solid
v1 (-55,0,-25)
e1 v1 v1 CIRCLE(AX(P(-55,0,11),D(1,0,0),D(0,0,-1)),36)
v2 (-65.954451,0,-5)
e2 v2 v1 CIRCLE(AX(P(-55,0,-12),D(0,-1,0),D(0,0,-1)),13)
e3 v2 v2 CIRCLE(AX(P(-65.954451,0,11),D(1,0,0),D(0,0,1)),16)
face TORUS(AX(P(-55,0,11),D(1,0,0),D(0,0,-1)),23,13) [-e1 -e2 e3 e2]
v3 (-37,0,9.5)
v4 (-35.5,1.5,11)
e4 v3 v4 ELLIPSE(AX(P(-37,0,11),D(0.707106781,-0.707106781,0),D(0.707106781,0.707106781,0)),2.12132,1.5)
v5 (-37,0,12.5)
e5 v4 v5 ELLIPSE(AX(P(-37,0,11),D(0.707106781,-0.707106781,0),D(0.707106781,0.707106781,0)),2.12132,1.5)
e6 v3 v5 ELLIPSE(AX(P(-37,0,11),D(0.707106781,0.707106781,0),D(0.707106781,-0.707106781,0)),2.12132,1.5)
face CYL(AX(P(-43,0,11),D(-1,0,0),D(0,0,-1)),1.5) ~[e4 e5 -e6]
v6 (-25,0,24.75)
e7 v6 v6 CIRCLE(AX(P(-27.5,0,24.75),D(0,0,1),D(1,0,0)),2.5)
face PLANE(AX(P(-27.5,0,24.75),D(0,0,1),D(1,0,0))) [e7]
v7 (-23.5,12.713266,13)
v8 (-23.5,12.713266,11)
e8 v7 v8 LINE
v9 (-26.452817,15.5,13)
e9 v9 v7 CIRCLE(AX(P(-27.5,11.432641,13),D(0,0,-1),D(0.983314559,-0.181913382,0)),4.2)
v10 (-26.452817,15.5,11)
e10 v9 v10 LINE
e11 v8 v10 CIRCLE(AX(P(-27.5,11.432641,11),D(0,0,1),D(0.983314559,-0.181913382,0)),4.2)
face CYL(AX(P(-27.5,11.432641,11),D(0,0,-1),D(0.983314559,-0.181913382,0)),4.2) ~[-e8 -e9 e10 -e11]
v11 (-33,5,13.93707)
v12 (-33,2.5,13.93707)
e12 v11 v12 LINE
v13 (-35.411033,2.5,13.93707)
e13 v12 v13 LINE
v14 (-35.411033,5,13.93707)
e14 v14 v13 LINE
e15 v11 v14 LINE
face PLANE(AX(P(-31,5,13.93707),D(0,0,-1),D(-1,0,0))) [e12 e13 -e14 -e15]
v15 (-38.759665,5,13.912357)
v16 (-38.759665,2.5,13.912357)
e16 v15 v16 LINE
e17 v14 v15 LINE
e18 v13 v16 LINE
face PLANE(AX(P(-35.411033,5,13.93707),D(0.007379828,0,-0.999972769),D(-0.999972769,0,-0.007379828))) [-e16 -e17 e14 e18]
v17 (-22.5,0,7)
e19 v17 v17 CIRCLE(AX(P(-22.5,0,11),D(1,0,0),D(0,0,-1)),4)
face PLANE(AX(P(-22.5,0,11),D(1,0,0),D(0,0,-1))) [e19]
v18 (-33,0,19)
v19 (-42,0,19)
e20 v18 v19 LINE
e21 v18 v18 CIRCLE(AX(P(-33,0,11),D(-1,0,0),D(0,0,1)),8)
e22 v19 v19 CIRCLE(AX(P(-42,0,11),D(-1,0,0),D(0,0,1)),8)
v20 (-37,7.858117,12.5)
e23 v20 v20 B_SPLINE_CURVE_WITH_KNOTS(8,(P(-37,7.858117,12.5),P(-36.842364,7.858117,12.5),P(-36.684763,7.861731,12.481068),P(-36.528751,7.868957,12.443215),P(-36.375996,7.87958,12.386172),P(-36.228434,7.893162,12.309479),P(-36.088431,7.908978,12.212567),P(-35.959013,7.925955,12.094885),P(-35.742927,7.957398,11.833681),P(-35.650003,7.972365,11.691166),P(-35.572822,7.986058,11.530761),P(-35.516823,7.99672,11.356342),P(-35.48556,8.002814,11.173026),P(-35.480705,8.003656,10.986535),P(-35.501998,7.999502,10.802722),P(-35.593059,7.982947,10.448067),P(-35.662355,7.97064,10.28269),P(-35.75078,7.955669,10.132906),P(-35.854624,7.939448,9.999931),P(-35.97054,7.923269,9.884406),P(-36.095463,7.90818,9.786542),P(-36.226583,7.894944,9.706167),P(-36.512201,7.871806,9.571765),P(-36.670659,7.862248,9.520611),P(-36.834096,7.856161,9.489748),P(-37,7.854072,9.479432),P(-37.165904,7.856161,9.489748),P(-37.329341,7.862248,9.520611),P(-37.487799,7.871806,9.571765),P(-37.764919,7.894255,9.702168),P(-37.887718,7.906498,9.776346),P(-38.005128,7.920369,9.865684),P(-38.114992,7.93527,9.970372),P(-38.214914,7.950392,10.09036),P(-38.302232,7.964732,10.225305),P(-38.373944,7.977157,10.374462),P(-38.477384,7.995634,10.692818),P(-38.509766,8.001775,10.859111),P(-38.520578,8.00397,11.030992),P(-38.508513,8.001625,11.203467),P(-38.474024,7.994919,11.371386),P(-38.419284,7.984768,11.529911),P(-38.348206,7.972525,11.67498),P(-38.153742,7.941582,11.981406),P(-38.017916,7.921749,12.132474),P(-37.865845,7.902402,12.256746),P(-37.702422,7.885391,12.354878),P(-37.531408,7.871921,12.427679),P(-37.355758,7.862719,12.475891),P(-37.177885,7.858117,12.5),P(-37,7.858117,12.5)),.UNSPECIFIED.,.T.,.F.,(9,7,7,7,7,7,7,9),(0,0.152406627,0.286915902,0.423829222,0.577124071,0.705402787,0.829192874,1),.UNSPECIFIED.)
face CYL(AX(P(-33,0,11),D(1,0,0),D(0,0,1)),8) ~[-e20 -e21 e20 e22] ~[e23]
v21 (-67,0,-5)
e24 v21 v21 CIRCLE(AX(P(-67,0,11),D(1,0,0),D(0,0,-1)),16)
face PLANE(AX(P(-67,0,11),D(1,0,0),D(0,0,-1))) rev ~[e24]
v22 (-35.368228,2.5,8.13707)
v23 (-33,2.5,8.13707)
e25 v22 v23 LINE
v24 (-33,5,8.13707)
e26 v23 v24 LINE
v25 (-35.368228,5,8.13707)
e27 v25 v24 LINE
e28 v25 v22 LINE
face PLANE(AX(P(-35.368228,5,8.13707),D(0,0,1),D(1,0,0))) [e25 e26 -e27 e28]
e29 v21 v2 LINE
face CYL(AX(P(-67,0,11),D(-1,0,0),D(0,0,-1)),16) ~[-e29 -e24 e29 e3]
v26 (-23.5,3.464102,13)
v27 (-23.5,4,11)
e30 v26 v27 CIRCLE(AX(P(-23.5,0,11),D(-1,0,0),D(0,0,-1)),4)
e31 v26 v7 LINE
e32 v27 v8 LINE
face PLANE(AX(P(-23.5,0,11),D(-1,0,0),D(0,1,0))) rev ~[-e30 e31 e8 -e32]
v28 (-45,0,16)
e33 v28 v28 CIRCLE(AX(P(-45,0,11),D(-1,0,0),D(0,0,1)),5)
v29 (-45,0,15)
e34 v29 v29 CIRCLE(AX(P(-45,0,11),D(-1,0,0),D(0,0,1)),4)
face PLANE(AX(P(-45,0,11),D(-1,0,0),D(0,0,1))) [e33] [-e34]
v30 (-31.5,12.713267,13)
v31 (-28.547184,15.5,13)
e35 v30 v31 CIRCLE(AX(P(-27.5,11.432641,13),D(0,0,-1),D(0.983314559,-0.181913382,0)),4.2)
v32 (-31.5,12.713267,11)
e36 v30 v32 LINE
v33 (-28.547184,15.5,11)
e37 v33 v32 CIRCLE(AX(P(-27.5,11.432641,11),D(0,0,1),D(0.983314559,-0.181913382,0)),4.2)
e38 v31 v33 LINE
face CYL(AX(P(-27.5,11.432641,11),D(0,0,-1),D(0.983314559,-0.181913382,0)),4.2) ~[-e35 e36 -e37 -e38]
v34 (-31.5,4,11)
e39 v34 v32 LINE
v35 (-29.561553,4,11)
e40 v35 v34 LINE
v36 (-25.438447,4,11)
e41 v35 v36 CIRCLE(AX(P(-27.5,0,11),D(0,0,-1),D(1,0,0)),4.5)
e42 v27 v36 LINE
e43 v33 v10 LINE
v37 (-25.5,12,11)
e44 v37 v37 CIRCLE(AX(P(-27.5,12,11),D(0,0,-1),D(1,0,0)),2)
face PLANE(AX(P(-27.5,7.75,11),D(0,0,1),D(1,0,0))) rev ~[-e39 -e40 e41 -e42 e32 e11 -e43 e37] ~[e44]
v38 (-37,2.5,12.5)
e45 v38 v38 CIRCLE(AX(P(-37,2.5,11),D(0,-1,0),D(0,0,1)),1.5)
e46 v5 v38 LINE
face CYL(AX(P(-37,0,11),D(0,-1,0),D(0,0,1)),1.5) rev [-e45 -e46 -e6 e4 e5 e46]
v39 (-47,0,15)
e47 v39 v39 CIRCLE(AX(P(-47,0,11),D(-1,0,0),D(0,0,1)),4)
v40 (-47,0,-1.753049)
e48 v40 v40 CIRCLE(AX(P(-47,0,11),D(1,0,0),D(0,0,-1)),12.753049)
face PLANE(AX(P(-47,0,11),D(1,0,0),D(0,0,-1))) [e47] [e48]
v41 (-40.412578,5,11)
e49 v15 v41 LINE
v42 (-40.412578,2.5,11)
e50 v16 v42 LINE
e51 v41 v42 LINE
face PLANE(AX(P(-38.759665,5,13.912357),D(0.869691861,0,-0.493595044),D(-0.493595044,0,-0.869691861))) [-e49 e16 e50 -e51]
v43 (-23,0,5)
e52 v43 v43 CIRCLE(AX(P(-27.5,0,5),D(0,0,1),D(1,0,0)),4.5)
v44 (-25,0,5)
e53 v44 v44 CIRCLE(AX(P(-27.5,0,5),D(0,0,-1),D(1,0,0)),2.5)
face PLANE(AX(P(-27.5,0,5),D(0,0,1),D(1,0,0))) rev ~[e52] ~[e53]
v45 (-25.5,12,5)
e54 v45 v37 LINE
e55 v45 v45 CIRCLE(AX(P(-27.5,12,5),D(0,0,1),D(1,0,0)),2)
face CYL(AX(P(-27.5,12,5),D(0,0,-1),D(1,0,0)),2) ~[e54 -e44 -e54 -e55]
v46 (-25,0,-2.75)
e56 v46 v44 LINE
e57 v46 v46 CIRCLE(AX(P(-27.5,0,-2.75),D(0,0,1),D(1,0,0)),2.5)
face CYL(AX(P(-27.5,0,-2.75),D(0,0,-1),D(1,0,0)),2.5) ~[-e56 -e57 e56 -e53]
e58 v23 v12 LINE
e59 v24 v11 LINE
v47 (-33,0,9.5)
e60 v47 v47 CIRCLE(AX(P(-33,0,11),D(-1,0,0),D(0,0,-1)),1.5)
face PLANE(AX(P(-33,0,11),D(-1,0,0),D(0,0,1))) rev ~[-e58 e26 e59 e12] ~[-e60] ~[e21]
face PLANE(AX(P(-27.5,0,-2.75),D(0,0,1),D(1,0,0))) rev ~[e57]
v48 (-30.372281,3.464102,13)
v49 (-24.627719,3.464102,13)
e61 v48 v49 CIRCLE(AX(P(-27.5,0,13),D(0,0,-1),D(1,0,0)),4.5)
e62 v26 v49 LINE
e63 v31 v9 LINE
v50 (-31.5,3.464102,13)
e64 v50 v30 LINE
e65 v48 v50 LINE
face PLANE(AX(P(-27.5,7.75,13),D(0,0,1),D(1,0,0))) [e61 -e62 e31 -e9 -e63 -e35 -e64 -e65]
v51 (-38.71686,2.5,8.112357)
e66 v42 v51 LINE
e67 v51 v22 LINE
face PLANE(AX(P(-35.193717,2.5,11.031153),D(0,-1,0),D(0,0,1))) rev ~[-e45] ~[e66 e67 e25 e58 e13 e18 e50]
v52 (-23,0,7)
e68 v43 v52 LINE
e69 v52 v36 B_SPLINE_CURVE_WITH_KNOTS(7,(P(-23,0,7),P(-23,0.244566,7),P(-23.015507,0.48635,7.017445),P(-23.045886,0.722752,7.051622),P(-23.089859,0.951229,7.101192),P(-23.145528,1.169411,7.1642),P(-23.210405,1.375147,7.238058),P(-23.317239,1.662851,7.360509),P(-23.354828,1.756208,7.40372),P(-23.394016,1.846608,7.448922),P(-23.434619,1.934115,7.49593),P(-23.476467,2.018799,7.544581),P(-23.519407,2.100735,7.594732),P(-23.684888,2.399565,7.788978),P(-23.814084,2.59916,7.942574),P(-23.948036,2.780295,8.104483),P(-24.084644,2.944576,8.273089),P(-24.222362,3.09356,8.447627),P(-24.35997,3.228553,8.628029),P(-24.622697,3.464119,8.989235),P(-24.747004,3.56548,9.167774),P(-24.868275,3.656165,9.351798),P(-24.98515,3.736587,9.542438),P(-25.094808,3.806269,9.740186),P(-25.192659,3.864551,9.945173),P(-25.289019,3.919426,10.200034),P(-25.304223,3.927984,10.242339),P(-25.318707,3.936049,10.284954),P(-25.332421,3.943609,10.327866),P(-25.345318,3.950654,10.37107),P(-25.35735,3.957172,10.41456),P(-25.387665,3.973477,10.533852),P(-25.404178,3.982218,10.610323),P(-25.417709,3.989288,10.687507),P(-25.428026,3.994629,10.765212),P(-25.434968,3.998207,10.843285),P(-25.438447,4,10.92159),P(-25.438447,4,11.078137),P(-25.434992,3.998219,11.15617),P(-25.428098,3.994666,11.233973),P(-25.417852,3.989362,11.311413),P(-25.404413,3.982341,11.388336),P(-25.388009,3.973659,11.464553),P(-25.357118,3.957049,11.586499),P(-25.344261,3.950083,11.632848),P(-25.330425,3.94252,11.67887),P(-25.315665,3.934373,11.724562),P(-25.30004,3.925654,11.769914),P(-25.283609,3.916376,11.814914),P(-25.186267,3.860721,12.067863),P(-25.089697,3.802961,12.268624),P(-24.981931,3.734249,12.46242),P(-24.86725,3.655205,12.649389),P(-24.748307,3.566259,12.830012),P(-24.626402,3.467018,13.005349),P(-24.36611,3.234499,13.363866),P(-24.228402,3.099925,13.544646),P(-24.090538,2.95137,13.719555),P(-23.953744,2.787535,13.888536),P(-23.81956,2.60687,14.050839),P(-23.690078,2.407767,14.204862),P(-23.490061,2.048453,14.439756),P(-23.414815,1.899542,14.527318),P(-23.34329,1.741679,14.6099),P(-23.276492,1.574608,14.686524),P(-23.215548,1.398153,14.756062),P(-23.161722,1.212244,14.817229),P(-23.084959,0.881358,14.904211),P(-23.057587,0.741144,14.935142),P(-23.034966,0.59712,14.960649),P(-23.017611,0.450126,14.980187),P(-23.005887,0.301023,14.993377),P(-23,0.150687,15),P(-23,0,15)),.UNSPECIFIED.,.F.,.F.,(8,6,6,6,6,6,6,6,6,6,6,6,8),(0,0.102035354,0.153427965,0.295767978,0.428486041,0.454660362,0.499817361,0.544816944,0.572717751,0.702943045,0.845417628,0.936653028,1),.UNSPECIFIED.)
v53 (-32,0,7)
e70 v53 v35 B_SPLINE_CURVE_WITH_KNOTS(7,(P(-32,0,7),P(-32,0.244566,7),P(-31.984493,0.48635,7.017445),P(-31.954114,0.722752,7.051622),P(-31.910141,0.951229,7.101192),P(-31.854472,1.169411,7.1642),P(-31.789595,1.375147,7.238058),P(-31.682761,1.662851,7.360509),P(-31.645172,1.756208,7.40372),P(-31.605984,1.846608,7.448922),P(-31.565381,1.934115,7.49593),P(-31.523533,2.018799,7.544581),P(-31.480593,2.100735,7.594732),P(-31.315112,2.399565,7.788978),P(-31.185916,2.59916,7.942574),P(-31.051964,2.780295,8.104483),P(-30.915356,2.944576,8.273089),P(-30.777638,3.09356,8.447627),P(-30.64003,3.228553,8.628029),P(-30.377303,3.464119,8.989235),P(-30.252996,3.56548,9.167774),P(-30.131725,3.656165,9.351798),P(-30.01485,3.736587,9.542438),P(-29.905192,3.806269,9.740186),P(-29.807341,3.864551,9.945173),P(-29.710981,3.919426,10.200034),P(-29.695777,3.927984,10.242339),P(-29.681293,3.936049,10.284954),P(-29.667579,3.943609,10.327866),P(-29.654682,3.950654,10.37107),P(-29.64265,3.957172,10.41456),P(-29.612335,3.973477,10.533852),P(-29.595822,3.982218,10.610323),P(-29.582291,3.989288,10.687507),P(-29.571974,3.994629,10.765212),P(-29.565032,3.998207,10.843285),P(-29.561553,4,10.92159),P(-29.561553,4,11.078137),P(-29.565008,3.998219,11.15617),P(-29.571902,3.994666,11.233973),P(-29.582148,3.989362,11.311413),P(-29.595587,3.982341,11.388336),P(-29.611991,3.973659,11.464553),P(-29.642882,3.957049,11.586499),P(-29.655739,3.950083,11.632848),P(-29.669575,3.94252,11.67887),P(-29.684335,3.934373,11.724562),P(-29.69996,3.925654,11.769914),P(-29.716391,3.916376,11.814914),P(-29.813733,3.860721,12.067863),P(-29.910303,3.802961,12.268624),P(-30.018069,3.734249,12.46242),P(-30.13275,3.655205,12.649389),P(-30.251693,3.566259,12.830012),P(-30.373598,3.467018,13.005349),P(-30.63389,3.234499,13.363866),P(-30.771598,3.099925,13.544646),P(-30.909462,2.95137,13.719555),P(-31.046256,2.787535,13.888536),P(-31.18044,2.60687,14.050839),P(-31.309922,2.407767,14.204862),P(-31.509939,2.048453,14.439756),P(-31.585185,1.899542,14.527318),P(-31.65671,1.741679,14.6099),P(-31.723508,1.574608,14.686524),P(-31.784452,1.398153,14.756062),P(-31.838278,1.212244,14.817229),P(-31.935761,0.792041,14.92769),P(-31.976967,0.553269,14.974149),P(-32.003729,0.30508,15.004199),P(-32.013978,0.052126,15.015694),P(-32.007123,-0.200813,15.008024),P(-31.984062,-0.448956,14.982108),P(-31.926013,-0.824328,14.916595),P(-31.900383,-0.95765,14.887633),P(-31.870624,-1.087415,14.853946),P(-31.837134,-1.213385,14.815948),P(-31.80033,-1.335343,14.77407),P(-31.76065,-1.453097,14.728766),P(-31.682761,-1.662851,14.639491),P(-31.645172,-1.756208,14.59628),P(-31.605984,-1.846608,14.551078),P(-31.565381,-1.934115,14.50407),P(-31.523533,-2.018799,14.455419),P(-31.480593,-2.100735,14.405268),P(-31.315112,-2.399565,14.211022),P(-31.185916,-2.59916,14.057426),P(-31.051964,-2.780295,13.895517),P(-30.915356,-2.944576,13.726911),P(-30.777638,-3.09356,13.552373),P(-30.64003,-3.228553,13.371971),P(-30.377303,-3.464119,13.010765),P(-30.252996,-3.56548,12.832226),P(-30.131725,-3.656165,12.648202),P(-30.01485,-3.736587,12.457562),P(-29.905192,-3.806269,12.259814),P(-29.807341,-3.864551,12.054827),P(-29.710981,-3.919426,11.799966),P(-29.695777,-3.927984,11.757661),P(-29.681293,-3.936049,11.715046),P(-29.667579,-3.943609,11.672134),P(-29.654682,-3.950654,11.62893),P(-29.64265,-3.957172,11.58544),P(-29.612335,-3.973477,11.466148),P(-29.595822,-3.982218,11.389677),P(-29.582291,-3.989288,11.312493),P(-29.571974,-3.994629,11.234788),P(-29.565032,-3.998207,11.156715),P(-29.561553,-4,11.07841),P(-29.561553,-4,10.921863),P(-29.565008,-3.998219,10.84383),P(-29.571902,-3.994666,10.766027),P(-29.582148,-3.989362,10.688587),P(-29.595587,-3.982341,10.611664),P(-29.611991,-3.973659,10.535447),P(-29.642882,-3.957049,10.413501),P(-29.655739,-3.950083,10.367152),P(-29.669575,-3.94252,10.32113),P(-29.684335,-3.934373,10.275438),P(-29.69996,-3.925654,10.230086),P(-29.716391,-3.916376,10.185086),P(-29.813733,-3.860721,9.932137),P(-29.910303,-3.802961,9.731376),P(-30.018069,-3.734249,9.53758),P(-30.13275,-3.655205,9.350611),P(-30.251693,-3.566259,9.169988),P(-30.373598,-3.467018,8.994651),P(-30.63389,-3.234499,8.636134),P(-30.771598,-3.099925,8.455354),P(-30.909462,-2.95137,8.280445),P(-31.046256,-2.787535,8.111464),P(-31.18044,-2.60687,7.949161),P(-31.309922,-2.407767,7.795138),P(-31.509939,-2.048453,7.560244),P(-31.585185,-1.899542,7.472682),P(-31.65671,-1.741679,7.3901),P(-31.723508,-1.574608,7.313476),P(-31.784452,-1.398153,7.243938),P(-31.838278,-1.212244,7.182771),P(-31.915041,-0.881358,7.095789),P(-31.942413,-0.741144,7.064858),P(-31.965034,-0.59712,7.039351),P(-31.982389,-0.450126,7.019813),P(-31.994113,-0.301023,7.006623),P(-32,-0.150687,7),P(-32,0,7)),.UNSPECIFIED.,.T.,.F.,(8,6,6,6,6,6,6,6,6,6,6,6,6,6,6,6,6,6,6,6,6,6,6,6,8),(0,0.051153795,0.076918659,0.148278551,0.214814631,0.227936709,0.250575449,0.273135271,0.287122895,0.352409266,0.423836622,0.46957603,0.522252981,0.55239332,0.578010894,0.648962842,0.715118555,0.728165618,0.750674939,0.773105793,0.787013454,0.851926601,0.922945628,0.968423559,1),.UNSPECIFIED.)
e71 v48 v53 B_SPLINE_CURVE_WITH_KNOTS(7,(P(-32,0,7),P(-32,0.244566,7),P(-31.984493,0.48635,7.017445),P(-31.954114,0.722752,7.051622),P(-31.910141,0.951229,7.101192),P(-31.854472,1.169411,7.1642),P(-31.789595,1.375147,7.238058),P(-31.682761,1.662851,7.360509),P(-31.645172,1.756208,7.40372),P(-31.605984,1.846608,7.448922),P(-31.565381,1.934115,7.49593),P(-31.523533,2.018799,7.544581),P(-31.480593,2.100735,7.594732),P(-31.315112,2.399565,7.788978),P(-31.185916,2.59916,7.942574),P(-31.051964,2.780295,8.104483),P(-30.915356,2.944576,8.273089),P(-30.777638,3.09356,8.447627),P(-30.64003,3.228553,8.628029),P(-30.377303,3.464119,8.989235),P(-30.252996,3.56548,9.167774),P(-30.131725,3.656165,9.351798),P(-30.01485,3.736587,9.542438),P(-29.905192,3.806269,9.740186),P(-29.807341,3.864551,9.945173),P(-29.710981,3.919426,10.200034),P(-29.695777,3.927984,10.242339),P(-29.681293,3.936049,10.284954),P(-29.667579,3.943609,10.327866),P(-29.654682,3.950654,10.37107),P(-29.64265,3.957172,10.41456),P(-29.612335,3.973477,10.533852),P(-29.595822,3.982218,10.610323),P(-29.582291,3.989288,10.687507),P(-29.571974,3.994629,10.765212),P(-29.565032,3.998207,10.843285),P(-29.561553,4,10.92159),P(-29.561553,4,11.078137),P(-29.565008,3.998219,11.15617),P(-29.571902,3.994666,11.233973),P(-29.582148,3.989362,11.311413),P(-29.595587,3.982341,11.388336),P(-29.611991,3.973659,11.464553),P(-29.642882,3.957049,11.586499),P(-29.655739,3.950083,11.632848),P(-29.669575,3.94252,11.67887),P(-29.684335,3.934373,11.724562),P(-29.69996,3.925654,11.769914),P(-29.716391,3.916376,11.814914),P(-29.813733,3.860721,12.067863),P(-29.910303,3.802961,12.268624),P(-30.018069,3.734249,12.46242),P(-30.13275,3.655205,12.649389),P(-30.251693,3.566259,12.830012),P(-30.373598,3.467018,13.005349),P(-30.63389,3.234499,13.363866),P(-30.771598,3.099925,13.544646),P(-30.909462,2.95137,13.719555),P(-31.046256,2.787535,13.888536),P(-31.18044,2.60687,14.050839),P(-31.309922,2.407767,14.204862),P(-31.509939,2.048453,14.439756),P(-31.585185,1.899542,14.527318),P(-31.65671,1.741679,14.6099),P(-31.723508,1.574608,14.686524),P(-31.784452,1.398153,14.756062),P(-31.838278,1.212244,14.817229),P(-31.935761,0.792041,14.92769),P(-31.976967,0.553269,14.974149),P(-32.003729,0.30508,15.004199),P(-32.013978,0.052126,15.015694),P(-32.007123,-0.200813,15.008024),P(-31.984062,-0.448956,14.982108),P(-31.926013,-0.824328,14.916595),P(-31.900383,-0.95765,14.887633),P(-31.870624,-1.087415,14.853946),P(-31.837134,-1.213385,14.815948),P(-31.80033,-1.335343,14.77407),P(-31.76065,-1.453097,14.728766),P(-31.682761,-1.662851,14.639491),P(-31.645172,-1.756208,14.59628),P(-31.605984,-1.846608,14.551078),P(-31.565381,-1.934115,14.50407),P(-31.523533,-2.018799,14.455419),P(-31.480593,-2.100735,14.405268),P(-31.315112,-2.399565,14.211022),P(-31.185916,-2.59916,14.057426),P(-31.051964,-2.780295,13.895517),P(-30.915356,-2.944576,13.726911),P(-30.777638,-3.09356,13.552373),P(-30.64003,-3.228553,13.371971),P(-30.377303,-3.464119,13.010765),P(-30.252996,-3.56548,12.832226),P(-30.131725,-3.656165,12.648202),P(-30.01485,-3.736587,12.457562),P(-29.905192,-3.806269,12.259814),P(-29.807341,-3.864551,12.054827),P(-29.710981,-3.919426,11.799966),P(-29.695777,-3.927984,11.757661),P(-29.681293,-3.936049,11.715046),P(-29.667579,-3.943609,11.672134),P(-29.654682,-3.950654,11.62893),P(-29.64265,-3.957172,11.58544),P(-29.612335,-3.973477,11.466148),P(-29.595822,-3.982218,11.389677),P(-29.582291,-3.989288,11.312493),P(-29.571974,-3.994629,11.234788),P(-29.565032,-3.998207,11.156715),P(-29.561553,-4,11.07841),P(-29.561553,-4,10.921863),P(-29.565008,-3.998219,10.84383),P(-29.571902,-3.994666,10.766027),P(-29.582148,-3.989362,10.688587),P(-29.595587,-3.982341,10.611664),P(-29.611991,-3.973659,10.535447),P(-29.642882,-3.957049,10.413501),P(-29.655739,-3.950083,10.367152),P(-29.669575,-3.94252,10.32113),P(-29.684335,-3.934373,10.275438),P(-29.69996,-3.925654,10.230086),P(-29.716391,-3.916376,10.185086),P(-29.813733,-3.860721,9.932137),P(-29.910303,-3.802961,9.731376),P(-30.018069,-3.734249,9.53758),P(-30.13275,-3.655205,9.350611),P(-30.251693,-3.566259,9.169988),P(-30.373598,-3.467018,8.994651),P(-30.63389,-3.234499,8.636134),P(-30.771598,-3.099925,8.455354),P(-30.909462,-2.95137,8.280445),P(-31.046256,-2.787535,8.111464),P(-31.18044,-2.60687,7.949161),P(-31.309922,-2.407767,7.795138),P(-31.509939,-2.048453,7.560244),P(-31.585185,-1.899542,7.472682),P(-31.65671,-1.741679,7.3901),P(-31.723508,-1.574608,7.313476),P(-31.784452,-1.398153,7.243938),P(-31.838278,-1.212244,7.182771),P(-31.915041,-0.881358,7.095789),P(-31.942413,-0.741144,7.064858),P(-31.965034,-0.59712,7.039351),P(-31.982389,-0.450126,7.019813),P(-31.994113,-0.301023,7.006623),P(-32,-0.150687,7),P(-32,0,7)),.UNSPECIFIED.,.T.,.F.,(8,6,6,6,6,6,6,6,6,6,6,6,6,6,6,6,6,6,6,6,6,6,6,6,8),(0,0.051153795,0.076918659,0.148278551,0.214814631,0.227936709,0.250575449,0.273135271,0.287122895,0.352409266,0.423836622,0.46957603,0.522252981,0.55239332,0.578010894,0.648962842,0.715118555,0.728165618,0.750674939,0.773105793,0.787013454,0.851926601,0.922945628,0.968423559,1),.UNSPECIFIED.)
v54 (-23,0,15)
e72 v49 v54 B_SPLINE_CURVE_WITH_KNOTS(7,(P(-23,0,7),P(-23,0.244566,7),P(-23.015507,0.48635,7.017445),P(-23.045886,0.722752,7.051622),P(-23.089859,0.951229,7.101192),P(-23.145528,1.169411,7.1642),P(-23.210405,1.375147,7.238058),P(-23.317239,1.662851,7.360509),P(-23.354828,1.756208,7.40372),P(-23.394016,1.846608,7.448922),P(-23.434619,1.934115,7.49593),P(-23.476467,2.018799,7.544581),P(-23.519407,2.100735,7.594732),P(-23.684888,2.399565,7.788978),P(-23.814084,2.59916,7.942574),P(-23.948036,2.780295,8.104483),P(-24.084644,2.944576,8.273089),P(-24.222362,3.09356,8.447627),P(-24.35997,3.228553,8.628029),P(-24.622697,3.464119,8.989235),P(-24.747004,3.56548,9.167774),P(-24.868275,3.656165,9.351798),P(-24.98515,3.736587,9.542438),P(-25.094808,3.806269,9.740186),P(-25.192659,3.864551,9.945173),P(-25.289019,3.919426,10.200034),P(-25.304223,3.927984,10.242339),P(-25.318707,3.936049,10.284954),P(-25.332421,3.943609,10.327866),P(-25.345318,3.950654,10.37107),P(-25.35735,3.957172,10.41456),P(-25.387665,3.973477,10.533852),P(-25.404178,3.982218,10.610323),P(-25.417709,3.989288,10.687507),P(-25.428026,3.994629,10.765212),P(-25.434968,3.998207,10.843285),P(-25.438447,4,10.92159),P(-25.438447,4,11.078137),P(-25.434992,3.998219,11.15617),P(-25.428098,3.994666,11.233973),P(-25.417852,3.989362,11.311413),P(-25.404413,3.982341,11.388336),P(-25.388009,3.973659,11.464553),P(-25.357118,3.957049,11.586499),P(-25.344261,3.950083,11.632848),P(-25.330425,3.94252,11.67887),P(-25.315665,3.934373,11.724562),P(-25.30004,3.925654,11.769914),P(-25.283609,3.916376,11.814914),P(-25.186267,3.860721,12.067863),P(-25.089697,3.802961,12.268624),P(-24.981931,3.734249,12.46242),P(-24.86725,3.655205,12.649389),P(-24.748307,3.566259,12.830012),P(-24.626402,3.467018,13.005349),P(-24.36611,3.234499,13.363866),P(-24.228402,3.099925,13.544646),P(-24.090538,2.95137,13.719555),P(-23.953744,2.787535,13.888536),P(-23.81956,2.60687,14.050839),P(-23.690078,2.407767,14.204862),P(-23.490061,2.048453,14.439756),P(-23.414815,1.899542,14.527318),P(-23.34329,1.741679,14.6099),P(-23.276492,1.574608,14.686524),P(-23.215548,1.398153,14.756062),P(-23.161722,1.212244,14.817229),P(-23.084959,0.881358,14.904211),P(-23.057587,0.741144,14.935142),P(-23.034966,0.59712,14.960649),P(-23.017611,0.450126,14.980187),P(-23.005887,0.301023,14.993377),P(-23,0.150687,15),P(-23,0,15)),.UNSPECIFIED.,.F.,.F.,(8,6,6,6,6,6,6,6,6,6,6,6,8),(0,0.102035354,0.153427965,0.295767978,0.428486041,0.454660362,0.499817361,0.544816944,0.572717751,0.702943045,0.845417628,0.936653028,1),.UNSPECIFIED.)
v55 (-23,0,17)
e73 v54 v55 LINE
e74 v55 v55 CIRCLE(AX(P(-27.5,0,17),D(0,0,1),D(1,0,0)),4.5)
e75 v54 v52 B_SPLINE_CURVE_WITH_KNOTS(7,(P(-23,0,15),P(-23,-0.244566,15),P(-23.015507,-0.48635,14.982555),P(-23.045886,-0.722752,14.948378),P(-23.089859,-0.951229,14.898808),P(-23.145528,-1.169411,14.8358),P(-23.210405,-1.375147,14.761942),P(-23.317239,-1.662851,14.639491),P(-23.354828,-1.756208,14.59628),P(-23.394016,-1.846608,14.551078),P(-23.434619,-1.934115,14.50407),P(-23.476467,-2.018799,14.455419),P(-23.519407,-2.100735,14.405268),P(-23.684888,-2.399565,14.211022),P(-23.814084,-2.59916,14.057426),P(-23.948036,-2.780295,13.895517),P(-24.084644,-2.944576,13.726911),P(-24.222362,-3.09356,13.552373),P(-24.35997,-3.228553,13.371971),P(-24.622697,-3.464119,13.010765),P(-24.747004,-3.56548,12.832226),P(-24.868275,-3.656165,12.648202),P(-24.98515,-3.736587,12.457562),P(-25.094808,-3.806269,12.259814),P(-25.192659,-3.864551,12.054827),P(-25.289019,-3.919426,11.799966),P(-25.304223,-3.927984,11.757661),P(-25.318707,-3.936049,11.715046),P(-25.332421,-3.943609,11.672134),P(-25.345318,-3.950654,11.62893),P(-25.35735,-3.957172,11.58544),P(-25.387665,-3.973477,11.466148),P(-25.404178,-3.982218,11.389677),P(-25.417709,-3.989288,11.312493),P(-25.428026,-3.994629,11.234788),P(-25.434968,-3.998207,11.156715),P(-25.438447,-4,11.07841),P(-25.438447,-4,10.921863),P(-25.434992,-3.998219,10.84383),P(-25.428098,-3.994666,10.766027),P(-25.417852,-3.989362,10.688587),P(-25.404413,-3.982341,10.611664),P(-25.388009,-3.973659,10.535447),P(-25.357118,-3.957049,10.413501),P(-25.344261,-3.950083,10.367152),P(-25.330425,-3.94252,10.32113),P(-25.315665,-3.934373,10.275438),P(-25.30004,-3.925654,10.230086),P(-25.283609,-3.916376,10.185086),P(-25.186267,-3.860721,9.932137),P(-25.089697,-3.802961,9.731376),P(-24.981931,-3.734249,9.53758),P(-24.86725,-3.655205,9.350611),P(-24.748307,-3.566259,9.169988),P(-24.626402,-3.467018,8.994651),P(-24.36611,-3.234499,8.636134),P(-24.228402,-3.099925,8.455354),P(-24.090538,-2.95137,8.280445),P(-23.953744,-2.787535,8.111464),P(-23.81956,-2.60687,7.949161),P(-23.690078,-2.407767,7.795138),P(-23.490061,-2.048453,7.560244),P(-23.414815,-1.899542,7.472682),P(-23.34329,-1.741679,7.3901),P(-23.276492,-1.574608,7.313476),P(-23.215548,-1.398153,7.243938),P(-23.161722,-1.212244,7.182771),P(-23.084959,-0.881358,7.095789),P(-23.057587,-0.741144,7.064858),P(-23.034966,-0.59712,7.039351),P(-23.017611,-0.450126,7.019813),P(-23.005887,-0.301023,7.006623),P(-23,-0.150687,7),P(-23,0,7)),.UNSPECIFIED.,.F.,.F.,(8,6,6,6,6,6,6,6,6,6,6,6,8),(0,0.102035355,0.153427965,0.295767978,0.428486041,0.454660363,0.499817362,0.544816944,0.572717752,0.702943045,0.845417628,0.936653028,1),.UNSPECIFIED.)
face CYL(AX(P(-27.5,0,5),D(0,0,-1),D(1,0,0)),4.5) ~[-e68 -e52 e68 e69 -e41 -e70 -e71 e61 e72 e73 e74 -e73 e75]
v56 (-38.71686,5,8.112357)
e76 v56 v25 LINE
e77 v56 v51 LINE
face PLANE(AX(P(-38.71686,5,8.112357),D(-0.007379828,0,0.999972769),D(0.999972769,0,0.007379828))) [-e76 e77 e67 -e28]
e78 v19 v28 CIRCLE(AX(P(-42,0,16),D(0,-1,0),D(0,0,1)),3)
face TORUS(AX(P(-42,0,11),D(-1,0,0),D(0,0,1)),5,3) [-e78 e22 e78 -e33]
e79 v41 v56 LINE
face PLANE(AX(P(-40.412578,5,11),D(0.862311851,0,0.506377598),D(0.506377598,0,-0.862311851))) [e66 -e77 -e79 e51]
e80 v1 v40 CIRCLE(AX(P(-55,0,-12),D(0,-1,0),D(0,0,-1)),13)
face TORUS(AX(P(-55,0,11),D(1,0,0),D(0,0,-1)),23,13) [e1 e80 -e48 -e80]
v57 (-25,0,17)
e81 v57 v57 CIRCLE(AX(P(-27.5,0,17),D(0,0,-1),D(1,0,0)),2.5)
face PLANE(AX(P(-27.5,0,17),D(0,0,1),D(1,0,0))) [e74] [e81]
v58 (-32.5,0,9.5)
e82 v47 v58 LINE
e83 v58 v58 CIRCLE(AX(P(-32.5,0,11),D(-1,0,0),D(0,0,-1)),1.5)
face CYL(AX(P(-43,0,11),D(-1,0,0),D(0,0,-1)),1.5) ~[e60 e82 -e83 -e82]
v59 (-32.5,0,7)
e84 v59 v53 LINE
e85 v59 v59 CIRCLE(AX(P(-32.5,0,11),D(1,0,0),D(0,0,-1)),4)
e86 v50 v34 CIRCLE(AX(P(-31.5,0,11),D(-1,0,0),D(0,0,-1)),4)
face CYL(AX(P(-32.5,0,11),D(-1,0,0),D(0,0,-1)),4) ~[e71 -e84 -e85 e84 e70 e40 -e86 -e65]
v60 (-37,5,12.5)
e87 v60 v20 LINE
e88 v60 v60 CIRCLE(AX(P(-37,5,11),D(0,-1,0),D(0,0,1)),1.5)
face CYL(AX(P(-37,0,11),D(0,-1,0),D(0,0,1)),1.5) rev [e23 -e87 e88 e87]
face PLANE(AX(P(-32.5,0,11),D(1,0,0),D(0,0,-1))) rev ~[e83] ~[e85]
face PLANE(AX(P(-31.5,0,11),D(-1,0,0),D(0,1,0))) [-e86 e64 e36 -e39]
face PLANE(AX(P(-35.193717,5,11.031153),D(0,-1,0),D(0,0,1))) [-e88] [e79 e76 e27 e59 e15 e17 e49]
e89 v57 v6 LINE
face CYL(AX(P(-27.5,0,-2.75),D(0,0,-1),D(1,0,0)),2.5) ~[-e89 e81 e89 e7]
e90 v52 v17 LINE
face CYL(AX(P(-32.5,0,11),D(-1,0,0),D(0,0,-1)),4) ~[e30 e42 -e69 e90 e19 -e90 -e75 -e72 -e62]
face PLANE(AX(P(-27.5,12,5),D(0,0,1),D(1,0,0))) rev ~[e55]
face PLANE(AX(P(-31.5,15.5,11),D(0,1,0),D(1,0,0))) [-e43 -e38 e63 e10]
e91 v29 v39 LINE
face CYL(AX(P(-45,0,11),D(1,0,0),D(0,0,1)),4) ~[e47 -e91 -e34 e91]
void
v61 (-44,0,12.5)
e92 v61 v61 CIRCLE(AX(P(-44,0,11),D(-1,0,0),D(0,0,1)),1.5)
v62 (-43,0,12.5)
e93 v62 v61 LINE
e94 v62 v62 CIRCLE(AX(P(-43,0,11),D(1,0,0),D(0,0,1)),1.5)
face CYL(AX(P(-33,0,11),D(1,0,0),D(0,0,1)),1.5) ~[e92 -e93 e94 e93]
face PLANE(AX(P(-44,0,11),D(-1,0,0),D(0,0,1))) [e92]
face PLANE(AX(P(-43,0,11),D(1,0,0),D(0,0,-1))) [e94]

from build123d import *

# Parameters (mm, degrees)
TORUS_R                   = 13
CYLINDER006_R             = 4.5
CYLINDER006_DEPTH         = 12
CYLINDER007_R             = 4
CYLINDER007_DEPTH         = 10
PAD002_DEPTH              = 10
BOX001_W                  = 8
BOX001_H                  = 15.5
BOX001_DEPTH              = 2
CYLINDER008_R             = 2
CYLINDER008_DEPTH         = 7.5
CYLINDER005_R             = 2.5
CYLINDER005_DEPTH         = 27.5
CYLINDER009_R             = 1.5
CYLINDER009_DEPTH         = 20
CYLINDER020_R             = 4
CYLINDER020_DEPTH         = 2
BOX005_W                  = 4.6
BOX005_H                  = 1.7
BOX005_DEPTH              = 15
FILLET004_R               = 1
BOX004_W                  = 1.7
BOX004_H                  = 4.6
BOX004_DEPTH              = 15
FILLET003_R               = 1
CYLINDER021_R             = 1.5
CYLINDER021_DEPTH         = 10
PAD004_DEPTH              = 2.5
CYLINDER019_R             = 1.5
CYLINDER019_DEPTH         = 11
CYLINDER018_R             = 8
CYLINDER018_DEPTH         = 12
FILLET005_R               = 3
FUSION008_PLACEMENT_ANGLE = 90
CYLINDER013_R             = 16
CYLINDER013_DEPTH         = 20


with BuildPart() as toro:
    # Torus → Torus (revolve)
    with BuildSketch(Plane(origin=(-55, 0, 11), x_dir=(0, 0, -1), z_dir=(0, -1, 0))):
        with Locations((23, 0)):
            Circle(TORUS_R)
    revolve(axis=Axis((-55, 0, 11), (1, 0, 0)))


with BuildPart() as cilindro006:
    # Cylinder006 → Cylinder006 (new body)
    with BuildSketch(Plane.XY.offset(-6)):
        Circle(CYLINDER006_R)
    extrude(amount=CYLINDER006_DEPTH)


with BuildPart() as cilindro007:
    # Cylinder007 → Cylinder007 (new body)
    with BuildSketch(Plane(origin=(-5, 0, 0), x_dir=(0, 0, -1), z_dir=(1, 0, 0))):
        Circle(CYLINDER007_R)
    extrude(amount=CYLINDER007_DEPTH)


with BuildPart() as pad002:
    # Sketch002 → Pad002 (new body)
    with BuildSketch(Plane.XY):
        with BuildLine():
            ThreePointArc((4.129921, 10.668605), (-0.003253, 15.63264), (-4.128733, 10.662209))
            Line((-5.229172, 10.780737), (-4.128733, 10.662209))
            Line((-5.229172, 16.944185), (-5.229172, 10.780737))
            Line((5.596368, 16.944185), (-5.229172, 16.944185))
            Line((5.596368, 10.638987), (5.596368, 16.944185))
            Line((4.124442, 10.638987), (5.596368, 10.638987))
            Line((4.129921, 10.668605), (4.124442, 10.638987))
        make_face()
    extrude(amount=PAD002_DEPTH)


with BuildPart() as cut001:
    # Box001 → Box001 (new body)
    with BuildSketch(Plane(origin=(-4, 0, 0), x_dir=(1, 0, 0), z_dir=(0, 0, 1))):
        with Locations((4, 7.75)):
            Rectangle(BOX001_W, BOX001_H)
    extrude(amount=BOX001_DEPTH)

    # Cut001: cut Pad002
    add(pad002.part, mode=Mode.SUBTRACT)


with BuildPart() as cilindro008:
    # Cylinder008 → Cylinder008 (new body)
    with BuildSketch(Plane(origin=(0, 12, -6), x_dir=(1, 0, 0), z_dir=(0, 0, 1))):
        Circle(CYLINDER008_R)
    extrude(amount=CYLINDER008_DEPTH)


with BuildPart() as fusion001:
    # Cylinder005 → Cylinder005 (new body)
    with BuildSketch(Plane.XY.offset(-13.75)):
        Circle(CYLINDER005_R)
    extrude(amount=CYLINDER005_DEPTH)

    # Fusion001: union Cilindro006, Cilindro007, Cut001, Cilindro008
    add(cilindro006.part)
    add(cilindro007.part)
    add(cut001.part)
    add(cilindro008.part)


with BuildPart() as fusion001_1:
    # Fusion001 placement: moved
    add(fusion001.part.moved(Location((-27.5, 0, 11))))


with BuildPart() as cylinder009:
    # Cylinder009 → Cylinder009 (new body)
    with BuildSketch(Plane(origin=(-43, 0, 11), x_dir=(0, 0, -1), z_dir=(1, 0, 0))):
        Circle(CYLINDER009_R)
    extrude(amount=CYLINDER009_DEPTH)


with BuildPart() as cilindro016:
    # Cylinder020 → Cylinder020 (new body)
    with BuildSketch(Plane.XY.offset(12)):
        Circle(CYLINDER020_R)
    extrude(amount=CYLINDER020_DEPTH)


with BuildPart() as fillet004:
    # Box005 → Box005 (new body)
    with BuildSketch(Plane(origin=(-2.3, -0.85, 22), x_dir=(1, 0, 0), z_dir=(0, 0, 1))):
        with Locations((2.3, 0.85)):
            Rectangle(BOX005_W, BOX005_H)
    extrude(amount=BOX005_DEPTH)

    # Fillet004
    fillet004_edges = [fillet004.edges().sort_by_distance(p)[0] for p in [
        (-2.3, 0, 37),
        (2.3, 0, 37),
    ]]
    fillet(fillet004_edges, radius=FILLET004_R)


with BuildPart() as fusion006:
    # Box004 → Box004 (new body)
    with BuildSketch(Plane(origin=(-0.85, -2.3, 22), x_dir=(1, 0, 0), z_dir=(0, 0, 1))):
        with Locations((0.85, 2.3)):
            Rectangle(BOX004_W, BOX004_H)
    extrude(amount=BOX004_DEPTH)

    # Fillet003
    fillet003_edges = [fusion006.edges().sort_by_distance(p)[0] for p in [
        (0, -2.3, 37),
        (0, 2.3, 37),
    ]]
    fillet(fillet003_edges, radius=FILLET003_R)

    # Fusion006: union Fillet004
    add(fillet004.part)


with BuildPart() as fusion006_1:
    # Fusion006 placement: moved
    add(fusion006.part.moved(Location((0, 0, -8))))


with BuildPart() as taladro_tornillo001:
    # Cylinder021 → Cylinder021 (new body)
    with BuildSketch(Plane(origin=(0, 0, 4), x_dir=(1, 0, 0), z_dir=(0, 1, 0))):
        Circle(CYLINDER021_R)
    extrude(amount=CYLINDER021_DEPTH)


with BuildPart() as tuerca001:
    # Sketch005 → Pad004 (new body)
    with BuildSketch(Plane(origin=(0, 5, -2), x_dir=(1, 0, 0), z_dir=(0, -1, 0))):
        Polygon((0, 9.412578), (-2.887643, 7.71686), (-2.86293, 4.368228), (-2.86293, 0), (2.93707, 0), (2.93707, 4.411033), (2.912357, 7.759665), align=None)
    extrude(amount=PAD004_DEPTH)


with BuildPart() as hueco001:
    # Cylinder019 → Cylinder019 (new body)
    with BuildSketch(Plane.XY):
        Circle(CYLINDER019_R)
    extrude(amount=CYLINDER019_DEPTH)

    # Fusion007: union Taladro tornillo001, Tuerca001
    add(taladro_tornillo001.part)
    add(tuerca001.part)


with BuildPart() as fusion008:
    # Cylinder018 → Cylinder018 (new body)
    with BuildSketch(Plane.XY):
        Circle(CYLINDER018_R)
    extrude(amount=CYLINDER018_DEPTH)

    # Fillet005
    fillet005_edges = [fusion008.edges().sort_by_distance(p)[0] for p in [
        (-8, 0, 12),
    ]]
    fillet(fillet005_edges, radius=FILLET005_R)

    # Cut004: cut Hueco001
    add(hueco001.part, mode=Mode.SUBTRACT)

    # Fusion008: union Cilindro016, Fusion006
    add(cilindro016.part)
    add(fusion006_1.part)


with BuildPart() as fusion008_1:
    # Fusion008 placement: moved
    add(fusion008.part.moved(Location((-33, 0, 11))).rotate(Axis((-33, 0, 11), (0, -1, 0)), FUSION008_PLACEMENT_ANGLE))


with BuildPart() as fusion009:
    # Cylinder013 → Cylinder013 (new body)
    with BuildSketch(Plane(origin=(-67, 0, 11), x_dir=(0, 0, -1), z_dir=(1, 0, 0))):
        Circle(CYLINDER013_R)
    extrude(amount=CYLINDER013_DEPTH)

    # Fusion009: union Toro, Fusion001, Cylinder009, Fusion008
    add(toro.part)
    add(fusion001_1.part)
    add(cylinder009.part)
    add(fusion008_1.part)


solid = fusion009.part
